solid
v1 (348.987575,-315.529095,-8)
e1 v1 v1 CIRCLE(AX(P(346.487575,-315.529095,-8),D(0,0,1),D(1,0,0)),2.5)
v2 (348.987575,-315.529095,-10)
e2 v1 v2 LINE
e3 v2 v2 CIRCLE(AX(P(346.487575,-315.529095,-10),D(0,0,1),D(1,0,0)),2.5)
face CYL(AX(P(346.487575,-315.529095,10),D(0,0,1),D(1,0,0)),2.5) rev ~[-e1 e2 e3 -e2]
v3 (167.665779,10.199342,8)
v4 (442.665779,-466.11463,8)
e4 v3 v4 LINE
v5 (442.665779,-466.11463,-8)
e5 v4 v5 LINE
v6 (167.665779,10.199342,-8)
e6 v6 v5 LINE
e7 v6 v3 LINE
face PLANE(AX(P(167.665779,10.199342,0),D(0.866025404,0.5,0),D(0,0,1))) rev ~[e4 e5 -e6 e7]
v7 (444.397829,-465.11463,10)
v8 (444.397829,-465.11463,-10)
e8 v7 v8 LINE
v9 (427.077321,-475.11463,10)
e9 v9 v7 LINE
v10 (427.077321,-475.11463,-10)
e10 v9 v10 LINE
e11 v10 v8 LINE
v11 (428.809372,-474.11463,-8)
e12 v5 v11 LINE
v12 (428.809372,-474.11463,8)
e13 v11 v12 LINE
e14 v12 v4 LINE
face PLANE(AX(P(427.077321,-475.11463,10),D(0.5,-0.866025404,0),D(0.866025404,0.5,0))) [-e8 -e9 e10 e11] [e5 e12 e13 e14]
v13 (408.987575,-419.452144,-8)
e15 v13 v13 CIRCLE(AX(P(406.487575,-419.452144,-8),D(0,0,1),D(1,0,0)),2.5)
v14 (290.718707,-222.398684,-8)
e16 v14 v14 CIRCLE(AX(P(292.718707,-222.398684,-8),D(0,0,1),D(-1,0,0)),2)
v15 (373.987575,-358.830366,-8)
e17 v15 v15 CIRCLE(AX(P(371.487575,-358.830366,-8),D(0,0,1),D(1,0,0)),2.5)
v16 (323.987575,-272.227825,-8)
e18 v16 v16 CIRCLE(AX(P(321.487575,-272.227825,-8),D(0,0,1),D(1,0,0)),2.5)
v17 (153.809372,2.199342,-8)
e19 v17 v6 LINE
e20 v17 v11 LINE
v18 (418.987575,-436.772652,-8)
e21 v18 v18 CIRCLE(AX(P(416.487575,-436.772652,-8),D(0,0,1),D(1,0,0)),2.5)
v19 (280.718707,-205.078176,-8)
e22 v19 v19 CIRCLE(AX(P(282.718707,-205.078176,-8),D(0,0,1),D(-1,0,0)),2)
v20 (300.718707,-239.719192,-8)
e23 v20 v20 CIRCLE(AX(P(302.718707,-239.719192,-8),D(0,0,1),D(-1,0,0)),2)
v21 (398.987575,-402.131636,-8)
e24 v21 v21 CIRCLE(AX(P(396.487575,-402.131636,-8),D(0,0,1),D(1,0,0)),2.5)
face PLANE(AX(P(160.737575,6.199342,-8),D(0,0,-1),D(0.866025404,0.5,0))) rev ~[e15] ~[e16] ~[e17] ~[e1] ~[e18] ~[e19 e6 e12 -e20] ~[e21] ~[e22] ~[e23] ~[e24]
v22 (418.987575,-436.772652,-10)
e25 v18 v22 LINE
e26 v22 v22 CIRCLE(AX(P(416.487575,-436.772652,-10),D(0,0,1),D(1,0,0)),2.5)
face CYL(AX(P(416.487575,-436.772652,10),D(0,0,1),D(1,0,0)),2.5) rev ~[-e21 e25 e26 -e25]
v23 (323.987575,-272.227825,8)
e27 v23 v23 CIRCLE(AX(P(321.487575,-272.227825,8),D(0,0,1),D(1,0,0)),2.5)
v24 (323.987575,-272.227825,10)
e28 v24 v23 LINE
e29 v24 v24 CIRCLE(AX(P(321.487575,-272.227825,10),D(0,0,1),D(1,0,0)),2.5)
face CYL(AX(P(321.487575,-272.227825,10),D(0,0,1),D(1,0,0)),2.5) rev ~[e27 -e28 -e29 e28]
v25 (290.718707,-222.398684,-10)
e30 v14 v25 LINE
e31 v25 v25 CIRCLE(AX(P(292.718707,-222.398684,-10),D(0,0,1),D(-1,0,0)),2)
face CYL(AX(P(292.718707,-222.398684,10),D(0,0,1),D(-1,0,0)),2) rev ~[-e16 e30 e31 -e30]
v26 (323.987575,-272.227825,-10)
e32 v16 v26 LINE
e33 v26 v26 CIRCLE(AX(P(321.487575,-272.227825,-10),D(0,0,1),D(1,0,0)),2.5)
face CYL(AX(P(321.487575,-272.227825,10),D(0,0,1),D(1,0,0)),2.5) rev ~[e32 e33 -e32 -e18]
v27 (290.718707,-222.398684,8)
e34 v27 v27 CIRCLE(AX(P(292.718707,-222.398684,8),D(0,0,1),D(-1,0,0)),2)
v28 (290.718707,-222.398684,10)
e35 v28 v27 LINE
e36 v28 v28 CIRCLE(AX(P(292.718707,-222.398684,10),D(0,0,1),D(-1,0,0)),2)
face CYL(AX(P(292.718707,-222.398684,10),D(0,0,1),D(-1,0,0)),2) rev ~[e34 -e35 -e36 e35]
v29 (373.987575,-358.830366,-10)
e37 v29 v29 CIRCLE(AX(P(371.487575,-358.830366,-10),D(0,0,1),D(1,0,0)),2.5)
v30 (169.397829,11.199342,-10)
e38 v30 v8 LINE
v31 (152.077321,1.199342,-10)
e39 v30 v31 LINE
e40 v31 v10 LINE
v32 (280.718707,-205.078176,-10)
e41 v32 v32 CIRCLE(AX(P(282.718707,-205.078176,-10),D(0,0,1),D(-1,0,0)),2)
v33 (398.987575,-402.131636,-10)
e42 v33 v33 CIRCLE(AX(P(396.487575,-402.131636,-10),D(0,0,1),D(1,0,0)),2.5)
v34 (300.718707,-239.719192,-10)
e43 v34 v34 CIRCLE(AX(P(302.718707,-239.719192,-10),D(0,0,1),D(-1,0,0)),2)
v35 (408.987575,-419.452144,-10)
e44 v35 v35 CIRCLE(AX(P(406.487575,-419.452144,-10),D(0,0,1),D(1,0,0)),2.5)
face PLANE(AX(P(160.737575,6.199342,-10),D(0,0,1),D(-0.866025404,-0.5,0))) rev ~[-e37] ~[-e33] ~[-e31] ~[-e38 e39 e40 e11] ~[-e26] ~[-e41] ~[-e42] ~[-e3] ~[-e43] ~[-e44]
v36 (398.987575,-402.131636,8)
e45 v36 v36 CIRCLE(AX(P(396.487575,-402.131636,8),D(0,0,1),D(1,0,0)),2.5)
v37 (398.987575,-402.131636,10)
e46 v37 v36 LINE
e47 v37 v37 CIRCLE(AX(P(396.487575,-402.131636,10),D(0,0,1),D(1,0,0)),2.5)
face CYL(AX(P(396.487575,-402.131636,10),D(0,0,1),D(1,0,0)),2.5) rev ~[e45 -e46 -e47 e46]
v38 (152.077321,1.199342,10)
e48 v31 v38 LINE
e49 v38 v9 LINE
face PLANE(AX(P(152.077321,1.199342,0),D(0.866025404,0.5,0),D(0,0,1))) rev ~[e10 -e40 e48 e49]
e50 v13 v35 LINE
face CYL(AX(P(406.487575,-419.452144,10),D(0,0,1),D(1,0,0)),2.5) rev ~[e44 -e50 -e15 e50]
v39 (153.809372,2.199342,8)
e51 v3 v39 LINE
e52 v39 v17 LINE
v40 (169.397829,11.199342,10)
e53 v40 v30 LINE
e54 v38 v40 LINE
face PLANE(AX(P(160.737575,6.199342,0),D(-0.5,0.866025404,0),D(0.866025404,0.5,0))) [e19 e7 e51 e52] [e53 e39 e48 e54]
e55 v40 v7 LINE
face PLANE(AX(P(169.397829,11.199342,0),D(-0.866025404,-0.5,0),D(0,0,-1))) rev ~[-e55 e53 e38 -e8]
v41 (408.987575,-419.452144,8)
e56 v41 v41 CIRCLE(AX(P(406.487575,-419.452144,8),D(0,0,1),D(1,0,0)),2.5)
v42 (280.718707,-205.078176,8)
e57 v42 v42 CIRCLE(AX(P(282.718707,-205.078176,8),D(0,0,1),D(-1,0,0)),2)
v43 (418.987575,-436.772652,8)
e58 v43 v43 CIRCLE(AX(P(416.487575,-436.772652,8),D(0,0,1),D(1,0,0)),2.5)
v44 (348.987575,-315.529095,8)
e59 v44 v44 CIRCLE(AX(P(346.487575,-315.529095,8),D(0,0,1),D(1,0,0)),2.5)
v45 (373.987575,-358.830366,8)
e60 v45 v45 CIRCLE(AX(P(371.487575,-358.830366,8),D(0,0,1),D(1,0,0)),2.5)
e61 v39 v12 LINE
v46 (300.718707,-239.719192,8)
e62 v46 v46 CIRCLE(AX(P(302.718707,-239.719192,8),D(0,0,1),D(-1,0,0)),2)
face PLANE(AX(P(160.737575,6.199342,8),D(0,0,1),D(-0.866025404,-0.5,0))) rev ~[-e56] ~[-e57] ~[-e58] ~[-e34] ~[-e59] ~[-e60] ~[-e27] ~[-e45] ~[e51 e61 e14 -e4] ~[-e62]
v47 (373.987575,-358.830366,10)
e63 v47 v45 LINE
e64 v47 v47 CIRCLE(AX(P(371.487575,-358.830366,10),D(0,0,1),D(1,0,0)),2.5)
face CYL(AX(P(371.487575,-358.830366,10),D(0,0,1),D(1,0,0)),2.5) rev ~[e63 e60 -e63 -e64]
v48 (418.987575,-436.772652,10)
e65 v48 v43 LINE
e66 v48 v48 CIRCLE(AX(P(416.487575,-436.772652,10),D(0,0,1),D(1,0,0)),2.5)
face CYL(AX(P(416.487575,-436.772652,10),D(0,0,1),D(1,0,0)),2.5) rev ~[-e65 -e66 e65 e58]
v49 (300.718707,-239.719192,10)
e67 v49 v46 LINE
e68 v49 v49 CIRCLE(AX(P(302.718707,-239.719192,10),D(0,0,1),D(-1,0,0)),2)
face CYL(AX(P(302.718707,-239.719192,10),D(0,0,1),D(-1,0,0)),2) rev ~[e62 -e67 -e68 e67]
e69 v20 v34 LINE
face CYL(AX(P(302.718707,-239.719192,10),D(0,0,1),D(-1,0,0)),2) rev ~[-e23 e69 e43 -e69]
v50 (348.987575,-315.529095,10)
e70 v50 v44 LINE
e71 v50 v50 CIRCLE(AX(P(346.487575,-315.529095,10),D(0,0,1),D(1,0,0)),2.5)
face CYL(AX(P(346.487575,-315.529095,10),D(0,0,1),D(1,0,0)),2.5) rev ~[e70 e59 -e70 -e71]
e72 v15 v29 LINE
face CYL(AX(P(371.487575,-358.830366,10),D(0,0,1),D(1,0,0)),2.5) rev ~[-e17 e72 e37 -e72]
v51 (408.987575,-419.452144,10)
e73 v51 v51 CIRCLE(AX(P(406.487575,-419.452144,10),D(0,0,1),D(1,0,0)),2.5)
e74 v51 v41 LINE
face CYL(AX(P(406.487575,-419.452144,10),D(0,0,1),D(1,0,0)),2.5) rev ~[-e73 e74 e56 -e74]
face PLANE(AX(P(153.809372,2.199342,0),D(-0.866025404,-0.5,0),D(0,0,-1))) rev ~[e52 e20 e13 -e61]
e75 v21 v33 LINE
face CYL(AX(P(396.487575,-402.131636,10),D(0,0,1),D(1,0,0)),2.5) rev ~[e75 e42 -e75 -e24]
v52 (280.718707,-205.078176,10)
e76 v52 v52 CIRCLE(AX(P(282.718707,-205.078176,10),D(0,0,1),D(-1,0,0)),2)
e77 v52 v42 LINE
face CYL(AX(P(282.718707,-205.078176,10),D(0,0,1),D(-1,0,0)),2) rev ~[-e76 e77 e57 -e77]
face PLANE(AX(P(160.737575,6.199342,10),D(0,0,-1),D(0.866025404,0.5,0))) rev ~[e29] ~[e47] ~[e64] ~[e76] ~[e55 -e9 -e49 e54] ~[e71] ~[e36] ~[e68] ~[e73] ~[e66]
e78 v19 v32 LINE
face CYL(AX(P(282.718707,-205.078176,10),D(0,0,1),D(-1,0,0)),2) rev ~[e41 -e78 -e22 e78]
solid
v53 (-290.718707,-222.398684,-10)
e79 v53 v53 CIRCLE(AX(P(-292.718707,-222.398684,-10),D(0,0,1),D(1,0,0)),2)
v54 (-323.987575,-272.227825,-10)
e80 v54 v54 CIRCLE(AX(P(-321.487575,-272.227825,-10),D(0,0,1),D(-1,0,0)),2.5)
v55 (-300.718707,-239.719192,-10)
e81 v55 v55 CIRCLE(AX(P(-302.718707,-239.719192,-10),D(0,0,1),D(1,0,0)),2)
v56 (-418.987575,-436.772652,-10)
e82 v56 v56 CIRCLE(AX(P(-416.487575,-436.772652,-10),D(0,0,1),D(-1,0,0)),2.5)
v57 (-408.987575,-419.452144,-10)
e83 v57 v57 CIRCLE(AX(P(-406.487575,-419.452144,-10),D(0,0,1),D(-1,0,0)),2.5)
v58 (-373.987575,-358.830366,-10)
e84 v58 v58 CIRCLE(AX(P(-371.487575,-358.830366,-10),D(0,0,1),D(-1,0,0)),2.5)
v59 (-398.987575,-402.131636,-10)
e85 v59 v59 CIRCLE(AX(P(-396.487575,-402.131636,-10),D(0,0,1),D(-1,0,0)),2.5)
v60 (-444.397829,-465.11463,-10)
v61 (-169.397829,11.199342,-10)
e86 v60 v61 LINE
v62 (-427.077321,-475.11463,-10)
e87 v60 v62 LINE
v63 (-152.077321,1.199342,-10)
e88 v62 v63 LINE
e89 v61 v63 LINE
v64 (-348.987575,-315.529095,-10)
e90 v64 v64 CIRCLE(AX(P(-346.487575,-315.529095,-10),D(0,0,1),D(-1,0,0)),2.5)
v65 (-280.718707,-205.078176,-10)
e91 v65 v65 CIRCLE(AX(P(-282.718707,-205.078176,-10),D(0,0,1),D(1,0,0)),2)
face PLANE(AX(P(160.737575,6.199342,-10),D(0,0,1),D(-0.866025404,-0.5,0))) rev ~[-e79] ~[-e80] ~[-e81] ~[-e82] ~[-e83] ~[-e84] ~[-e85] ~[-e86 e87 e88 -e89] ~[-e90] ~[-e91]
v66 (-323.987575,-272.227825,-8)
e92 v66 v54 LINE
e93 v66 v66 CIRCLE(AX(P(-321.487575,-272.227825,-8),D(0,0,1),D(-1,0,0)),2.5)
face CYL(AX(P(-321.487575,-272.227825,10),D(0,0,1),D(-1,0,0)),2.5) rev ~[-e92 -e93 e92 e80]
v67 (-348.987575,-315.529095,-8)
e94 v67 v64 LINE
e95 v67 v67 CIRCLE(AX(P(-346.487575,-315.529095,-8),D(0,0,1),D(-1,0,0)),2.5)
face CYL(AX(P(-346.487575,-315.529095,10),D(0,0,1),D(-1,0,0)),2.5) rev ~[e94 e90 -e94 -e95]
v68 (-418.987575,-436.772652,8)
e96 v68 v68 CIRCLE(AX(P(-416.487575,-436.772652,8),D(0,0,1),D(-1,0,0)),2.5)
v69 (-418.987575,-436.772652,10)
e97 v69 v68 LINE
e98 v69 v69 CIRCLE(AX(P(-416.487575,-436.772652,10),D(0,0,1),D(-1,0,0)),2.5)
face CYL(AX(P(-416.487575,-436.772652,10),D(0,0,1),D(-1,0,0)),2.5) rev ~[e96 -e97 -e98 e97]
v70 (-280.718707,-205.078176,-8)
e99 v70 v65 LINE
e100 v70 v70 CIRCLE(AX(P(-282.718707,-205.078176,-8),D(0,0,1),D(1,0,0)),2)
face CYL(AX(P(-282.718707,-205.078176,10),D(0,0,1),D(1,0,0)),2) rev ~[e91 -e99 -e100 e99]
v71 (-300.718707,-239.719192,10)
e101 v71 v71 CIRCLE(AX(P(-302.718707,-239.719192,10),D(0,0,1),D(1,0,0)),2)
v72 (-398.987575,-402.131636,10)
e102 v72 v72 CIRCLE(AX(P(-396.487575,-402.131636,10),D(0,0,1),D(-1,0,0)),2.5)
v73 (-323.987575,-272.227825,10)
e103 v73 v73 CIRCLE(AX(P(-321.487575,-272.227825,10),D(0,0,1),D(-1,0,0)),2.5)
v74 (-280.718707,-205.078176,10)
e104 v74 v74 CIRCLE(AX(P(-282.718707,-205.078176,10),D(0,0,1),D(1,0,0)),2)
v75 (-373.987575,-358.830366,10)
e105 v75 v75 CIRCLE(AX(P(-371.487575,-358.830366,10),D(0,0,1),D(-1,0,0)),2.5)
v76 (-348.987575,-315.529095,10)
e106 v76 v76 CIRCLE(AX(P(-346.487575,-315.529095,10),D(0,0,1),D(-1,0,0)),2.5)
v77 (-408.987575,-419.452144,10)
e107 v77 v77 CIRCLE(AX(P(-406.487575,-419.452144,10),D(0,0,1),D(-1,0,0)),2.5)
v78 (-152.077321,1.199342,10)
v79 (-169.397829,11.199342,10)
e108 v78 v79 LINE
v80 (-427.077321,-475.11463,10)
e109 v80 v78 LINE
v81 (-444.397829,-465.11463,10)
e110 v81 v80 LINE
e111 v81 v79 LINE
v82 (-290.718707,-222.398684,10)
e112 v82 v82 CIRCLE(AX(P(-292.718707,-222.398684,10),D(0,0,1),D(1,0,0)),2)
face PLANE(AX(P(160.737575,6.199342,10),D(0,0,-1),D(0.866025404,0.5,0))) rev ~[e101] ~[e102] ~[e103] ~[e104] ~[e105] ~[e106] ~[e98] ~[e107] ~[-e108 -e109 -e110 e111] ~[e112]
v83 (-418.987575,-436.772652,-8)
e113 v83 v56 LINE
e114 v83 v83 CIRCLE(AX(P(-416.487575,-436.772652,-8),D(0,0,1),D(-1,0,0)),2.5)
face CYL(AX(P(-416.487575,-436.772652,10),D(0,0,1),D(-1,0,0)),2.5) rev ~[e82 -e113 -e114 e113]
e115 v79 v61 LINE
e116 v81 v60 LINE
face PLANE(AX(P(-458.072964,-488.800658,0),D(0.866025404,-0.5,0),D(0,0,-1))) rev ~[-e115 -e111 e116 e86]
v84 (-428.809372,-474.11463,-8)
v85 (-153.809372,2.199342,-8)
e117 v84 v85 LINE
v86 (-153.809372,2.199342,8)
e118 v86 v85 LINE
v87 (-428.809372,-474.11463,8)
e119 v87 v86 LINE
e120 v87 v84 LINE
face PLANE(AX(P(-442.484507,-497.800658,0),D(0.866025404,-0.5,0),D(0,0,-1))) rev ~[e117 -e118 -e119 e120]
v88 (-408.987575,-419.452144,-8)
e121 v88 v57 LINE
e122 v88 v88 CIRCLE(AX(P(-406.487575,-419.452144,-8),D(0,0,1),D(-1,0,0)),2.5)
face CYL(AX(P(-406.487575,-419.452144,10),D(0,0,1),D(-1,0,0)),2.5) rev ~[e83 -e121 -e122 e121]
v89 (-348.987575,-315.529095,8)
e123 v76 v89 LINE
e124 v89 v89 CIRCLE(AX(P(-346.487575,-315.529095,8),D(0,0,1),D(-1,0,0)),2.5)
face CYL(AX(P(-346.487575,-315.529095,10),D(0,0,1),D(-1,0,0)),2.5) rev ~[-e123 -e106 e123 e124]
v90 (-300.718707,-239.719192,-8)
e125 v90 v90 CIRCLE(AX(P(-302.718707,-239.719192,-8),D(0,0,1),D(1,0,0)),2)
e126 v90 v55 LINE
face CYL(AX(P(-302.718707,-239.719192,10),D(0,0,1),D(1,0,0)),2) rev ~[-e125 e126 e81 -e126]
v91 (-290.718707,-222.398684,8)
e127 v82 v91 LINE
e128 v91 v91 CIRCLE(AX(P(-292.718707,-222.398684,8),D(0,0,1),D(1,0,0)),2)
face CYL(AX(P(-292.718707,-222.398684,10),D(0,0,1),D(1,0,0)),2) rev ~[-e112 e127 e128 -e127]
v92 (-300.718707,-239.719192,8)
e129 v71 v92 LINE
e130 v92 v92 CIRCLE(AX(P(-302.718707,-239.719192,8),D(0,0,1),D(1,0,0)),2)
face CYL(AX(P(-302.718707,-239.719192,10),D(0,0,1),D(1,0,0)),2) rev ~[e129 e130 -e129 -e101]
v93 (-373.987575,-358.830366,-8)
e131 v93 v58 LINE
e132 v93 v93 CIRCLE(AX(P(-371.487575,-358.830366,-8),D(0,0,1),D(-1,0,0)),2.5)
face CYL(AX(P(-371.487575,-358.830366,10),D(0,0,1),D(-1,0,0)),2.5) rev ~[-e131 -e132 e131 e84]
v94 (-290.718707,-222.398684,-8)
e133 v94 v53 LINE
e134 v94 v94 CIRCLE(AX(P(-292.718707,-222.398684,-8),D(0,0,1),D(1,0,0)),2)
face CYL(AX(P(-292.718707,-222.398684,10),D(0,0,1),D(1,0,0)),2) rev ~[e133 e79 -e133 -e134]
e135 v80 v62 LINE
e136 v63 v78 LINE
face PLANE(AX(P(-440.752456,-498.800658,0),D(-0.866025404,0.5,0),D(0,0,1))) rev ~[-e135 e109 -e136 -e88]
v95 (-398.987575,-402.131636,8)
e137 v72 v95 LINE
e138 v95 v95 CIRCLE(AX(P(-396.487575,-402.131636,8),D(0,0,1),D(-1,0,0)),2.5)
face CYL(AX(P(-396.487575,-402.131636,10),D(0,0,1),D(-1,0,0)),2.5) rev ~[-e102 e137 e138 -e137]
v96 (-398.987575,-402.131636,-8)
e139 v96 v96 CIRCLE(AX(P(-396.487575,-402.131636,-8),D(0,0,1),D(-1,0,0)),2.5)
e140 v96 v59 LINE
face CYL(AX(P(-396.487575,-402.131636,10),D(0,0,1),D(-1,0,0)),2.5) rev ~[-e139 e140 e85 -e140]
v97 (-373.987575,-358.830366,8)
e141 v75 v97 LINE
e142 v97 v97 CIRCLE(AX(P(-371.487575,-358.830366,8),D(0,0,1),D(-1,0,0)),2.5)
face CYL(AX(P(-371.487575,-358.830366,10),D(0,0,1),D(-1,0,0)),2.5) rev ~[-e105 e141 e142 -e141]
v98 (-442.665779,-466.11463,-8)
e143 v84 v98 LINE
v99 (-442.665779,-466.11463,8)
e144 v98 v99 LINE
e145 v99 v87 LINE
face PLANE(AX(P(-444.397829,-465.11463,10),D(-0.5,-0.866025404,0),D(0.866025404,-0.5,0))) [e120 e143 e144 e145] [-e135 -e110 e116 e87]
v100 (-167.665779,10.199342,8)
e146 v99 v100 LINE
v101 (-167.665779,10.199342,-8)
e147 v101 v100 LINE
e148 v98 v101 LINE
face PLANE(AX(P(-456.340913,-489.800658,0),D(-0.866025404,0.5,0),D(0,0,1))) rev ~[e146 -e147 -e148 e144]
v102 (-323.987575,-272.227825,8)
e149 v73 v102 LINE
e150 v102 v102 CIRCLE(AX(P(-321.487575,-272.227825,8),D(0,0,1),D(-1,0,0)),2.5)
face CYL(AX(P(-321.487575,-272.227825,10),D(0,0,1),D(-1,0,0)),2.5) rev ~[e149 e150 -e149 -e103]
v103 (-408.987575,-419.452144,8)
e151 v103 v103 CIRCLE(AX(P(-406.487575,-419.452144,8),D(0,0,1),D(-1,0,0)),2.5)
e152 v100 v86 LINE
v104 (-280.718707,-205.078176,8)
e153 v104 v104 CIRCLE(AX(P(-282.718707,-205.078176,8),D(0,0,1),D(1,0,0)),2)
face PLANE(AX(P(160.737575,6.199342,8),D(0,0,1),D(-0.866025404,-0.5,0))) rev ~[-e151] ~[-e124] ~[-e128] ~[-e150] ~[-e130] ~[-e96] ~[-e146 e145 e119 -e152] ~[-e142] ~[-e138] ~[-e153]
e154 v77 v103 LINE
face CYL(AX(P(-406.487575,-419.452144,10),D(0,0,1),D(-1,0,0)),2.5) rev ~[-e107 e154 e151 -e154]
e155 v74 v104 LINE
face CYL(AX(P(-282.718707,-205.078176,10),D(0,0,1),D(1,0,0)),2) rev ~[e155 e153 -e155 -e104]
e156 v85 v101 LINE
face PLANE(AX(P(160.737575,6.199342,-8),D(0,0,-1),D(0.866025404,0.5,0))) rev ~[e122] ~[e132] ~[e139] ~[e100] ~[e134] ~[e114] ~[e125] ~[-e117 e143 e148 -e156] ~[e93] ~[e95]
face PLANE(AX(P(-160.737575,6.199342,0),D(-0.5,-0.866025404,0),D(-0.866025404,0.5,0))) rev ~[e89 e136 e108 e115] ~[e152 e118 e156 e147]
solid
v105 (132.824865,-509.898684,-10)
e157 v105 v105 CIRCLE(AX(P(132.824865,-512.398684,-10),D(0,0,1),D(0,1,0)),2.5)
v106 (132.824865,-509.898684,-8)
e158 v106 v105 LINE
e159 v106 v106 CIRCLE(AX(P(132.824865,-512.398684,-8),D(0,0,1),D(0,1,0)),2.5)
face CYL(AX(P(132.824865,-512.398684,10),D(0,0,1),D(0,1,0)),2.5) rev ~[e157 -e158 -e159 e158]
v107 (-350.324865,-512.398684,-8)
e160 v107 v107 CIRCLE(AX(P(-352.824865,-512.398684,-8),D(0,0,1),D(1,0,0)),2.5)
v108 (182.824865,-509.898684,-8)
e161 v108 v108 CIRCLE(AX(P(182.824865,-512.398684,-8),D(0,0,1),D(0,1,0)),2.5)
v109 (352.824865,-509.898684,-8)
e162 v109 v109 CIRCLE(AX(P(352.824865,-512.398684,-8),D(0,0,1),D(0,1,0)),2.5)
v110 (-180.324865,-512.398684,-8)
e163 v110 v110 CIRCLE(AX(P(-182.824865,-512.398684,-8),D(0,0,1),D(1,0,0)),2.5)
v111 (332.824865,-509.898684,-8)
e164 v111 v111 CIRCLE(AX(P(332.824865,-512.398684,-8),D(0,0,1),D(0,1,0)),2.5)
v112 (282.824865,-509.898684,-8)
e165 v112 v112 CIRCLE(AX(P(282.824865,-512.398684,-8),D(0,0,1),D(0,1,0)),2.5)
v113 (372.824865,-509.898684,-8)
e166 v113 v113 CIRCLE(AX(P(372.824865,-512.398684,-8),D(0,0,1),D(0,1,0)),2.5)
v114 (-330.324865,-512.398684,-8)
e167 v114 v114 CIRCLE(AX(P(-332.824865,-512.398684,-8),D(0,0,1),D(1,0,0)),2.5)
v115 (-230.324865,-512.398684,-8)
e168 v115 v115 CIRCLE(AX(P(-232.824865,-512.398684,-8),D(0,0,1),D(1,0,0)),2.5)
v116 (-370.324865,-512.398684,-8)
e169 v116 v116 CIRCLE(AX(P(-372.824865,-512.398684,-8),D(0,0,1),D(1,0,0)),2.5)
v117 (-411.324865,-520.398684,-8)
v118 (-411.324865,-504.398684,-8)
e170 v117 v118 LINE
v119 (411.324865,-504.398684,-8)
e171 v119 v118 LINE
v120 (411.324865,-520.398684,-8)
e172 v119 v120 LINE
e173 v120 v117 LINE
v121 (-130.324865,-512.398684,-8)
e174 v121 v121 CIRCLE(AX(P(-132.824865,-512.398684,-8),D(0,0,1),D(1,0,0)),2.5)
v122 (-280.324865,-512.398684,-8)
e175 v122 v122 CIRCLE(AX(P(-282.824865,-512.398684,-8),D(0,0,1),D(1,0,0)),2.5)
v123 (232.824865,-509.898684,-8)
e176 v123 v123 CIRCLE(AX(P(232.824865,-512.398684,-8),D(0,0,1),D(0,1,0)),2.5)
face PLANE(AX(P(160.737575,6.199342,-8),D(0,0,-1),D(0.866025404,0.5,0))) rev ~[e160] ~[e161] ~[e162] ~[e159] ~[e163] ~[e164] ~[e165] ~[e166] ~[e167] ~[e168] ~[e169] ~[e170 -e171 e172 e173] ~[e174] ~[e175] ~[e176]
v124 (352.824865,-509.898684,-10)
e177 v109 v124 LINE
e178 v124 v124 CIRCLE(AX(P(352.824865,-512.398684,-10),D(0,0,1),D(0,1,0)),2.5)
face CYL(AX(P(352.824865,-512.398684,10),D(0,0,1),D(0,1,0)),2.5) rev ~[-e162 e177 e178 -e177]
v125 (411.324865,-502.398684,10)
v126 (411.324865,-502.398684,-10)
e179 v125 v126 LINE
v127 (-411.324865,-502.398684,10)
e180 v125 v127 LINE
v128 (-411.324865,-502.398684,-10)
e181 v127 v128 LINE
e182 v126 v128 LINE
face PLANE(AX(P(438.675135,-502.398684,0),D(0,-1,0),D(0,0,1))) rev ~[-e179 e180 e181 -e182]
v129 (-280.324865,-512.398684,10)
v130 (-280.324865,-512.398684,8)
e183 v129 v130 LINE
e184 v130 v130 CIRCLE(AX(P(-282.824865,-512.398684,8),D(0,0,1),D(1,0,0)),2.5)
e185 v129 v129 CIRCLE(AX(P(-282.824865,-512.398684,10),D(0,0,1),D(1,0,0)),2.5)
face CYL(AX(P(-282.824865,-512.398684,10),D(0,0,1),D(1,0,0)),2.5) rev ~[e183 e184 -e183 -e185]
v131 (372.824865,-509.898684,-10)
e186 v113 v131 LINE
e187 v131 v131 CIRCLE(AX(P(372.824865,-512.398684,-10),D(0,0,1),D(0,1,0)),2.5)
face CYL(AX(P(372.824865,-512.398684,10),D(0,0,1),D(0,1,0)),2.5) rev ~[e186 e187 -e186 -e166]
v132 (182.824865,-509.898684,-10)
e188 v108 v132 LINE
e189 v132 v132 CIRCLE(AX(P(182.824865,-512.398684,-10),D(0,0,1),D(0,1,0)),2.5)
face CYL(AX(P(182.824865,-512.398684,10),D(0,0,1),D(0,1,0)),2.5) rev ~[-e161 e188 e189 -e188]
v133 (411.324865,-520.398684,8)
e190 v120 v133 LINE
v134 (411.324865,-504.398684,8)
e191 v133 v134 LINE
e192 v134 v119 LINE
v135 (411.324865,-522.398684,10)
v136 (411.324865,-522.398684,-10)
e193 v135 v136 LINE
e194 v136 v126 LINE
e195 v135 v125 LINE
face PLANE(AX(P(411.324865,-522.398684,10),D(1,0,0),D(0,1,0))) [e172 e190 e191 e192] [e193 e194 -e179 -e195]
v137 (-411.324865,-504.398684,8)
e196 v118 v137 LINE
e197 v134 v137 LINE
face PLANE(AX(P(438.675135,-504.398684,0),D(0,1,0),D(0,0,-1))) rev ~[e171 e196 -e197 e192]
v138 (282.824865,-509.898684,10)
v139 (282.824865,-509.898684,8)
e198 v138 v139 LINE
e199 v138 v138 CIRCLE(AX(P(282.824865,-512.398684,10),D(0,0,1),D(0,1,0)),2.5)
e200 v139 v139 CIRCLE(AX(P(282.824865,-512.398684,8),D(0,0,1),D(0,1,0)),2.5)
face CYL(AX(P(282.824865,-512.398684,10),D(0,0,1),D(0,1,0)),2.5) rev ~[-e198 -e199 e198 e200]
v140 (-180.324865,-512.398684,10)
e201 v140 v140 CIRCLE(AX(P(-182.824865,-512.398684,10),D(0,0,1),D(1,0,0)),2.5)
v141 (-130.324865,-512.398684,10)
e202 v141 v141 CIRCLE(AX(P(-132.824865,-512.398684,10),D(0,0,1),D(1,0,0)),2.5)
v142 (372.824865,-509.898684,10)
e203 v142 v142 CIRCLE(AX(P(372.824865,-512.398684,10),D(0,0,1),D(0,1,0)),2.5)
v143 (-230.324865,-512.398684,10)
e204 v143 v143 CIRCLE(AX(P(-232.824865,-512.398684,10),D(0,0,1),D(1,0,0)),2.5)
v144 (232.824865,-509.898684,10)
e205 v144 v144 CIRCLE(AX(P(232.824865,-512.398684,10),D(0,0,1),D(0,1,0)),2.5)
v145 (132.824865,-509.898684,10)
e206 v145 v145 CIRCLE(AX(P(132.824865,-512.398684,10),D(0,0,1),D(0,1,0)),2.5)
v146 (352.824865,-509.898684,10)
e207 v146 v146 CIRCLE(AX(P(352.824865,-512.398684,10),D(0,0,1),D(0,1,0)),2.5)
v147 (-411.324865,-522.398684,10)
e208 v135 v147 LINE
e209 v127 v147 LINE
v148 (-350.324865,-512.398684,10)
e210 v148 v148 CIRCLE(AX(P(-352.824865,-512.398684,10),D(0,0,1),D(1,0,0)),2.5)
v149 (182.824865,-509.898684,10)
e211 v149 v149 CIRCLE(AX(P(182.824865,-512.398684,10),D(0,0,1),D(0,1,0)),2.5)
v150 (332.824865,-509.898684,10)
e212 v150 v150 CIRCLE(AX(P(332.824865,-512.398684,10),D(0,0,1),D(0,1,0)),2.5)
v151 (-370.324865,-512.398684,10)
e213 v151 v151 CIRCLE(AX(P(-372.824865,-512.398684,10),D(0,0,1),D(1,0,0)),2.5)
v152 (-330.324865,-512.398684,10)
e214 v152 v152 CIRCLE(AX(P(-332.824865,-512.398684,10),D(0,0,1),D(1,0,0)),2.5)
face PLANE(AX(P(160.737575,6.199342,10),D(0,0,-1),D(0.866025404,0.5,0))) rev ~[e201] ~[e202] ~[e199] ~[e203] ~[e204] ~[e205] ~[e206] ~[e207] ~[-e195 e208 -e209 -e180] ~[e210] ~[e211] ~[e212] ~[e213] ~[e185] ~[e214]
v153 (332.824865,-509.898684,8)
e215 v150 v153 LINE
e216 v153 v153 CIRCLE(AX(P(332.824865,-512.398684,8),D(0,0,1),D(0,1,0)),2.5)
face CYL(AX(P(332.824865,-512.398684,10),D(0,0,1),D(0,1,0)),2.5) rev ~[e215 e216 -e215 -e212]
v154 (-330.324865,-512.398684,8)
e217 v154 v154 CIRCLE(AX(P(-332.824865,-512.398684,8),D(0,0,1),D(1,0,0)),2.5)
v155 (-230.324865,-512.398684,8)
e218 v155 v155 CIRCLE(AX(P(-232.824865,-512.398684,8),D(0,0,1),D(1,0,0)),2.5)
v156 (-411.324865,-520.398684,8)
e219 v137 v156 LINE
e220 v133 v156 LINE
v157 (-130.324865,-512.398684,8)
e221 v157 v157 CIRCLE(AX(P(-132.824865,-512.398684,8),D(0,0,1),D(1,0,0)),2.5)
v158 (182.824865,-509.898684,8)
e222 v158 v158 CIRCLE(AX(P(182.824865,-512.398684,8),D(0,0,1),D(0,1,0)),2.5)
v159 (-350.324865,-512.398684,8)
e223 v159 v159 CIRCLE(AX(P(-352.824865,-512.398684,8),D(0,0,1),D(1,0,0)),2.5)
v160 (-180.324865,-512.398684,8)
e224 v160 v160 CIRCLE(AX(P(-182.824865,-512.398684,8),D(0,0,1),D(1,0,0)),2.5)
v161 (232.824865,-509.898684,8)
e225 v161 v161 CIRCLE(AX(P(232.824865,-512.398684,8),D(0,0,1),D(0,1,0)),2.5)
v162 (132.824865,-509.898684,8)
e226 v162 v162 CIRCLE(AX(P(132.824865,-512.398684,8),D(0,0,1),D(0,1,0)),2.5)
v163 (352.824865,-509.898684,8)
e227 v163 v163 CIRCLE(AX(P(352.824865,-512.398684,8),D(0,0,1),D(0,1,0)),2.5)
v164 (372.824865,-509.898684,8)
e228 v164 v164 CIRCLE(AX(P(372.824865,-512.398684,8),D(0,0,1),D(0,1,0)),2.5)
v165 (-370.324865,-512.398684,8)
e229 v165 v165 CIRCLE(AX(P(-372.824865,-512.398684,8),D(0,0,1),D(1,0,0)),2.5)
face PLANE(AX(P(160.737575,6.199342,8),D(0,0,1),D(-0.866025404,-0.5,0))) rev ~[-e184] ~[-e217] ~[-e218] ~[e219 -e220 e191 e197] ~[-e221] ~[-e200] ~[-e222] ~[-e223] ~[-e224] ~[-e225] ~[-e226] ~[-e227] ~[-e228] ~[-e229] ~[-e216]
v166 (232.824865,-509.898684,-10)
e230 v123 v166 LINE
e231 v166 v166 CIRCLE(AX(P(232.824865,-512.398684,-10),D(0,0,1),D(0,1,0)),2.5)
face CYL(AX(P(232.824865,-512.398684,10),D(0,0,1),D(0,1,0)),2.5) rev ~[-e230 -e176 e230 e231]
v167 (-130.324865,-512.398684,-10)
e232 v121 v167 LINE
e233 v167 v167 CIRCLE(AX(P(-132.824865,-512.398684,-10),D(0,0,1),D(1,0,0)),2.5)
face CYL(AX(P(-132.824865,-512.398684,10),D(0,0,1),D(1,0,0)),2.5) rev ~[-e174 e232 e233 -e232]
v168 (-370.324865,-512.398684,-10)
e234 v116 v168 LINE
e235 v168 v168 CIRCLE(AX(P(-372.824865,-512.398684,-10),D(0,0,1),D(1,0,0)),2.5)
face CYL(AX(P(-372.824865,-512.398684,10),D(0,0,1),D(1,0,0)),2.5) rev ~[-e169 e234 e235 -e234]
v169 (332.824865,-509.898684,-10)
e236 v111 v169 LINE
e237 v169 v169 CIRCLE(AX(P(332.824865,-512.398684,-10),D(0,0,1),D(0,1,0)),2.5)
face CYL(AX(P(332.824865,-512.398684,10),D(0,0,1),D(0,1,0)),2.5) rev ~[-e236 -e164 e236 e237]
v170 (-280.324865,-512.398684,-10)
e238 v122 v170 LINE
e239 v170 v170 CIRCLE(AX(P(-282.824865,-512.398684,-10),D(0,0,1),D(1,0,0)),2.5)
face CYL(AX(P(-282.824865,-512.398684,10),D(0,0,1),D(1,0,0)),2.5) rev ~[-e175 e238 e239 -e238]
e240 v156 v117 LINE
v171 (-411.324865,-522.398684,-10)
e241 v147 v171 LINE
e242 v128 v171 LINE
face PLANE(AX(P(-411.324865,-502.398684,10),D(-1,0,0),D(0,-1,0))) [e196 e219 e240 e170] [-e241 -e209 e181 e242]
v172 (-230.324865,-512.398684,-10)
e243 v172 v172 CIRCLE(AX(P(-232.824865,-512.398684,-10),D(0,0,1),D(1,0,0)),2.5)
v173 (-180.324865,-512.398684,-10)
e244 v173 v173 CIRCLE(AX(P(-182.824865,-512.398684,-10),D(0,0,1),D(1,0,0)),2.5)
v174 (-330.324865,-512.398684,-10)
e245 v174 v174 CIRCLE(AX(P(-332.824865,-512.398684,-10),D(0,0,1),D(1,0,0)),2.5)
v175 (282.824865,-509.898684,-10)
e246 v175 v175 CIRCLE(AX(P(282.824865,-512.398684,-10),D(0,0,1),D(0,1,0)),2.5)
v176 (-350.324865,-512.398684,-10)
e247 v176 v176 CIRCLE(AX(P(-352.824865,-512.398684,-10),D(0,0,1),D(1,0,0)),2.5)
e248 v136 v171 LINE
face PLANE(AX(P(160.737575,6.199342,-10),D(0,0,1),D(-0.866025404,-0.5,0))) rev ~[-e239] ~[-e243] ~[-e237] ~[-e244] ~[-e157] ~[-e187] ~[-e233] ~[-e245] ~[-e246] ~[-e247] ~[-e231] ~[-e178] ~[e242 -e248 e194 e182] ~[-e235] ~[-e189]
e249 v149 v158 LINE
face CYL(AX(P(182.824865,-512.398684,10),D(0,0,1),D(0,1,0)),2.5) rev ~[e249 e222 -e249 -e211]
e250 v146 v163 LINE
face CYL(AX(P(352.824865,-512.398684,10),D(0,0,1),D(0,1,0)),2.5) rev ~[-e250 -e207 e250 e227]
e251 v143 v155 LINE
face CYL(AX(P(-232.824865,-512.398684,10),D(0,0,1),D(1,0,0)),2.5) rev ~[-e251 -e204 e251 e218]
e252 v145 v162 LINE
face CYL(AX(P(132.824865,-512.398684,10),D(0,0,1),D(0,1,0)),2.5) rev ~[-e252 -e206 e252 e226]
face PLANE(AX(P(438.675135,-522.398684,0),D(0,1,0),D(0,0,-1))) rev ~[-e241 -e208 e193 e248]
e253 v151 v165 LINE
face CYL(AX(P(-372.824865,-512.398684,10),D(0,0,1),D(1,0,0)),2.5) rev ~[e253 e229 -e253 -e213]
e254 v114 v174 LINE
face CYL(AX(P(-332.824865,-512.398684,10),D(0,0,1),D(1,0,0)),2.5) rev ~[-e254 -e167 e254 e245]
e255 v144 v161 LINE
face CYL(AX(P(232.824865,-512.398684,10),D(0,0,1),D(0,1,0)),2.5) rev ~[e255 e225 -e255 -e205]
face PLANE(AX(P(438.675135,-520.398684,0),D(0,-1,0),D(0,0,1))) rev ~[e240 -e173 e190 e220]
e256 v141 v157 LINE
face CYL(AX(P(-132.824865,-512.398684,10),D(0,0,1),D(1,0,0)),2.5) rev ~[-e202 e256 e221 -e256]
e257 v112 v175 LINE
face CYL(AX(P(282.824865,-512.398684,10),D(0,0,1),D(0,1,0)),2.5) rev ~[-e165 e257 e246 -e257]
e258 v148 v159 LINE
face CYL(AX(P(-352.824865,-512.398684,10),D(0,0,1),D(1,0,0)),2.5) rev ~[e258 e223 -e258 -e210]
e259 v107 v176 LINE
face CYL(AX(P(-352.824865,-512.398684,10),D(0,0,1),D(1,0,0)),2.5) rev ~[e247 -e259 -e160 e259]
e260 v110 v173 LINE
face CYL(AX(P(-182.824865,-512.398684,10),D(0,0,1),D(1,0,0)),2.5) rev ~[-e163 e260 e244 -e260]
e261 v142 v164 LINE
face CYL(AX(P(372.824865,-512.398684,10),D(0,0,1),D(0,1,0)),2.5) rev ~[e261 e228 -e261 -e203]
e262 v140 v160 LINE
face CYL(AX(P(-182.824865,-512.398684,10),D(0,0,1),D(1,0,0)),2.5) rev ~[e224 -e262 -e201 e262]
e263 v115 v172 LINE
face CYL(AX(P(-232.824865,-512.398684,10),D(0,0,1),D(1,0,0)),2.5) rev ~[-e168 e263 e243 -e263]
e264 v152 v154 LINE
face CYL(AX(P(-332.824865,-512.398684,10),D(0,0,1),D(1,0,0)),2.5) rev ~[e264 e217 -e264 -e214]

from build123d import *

# Parameters (mm, degrees)
SKETCH_3_W          = 20
SKETCH_3_H          = 20
SKETCH_3_W_2        = 16
SKETCH_3_H_2        = 16
SKETCH_4_R          = 2
CUT_EXTRUDE_1_DEPTH = 709.01041227
SKETCH_5_R          = 2.5
CUT_EXTRUDE_2_DEPTH = 687.141250789


with BuildPart() as part:
    # 扫描1: sweep along a path in 草图2
    with BuildLine(Plane.XY) as sweep_1_path:
        Line((150, 0), (438.675134595, -500))
        Line((438.675134595, -500), (-438.675134595, -500))
        Line((-438.675134595, -500), (-150, 0))
    # 草图3 → 扫描1 (sweep)
    with BuildSketch(Plane(origin=(37.5, -64.951905284, 0), x_dir=(-0.8660254037844362, -0.5000000000000044, 0), z_dir=(-0.5000000000000044, 0.8660254037844362, 0))):
        with Locations((-142.302494708, 0)):
            Rectangle(SKETCH_3_W, SKETCH_3_H)
        with Locations((-142.302494708, 0)):
            Rectangle(SKETCH_3_W_2, SKETCH_3_H_2, mode=Mode.SUBTRACT)
    sweep(path=sweep_1_path.line, transition=Transition.RIGHT)

    # 草图4 → 切除-拉伸1 (cut, through all)
    with BuildSketch(Plane.XY.offset(10)):
        with Locations((-302.718707407, -239.719192216)):
            Circle(SKETCH_4_R)
        with Locations((-292.718707407, -222.39868414)):
            Circle(SKETCH_4_R)
        with Locations((-282.718707407, -205.078176064)):
            Circle(SKETCH_4_R)
        with Locations(Location((282.718707407, -205.078176064, 0), (0, 0, 180))):
            Circle(SKETCH_4_R)
        with Locations(Location((292.718707407, -222.39868414, 0), (0, 0, 180))):
            Circle(SKETCH_4_R)
        with Locations(Location((302.718707407, -239.719192216, 0), (0, 0, 180))):
            Circle(SKETCH_4_R)
        Polygon((-444.397829477, -465.114630011), (-427.077321401, -475.114630011), (-442.829777396, -502.39868414), (-411.324865405, -502.39868414), (-411.324865405, -522.39868414), (-477.470793548, -522.39868414), align=None)
        Polygon((411.324865405, -502.39868414), (442.829777396, -502.39868414), (427.077321401, -475.114630011), (444.397829477, -465.114630011), (477.470793548, -522.39868414), (411.324865405, -522.39868414), align=None)
    extrude(amount=-CUT_EXTRUDE_1_DEPTH, mode=Mode.SUBTRACT)


with BuildPart() as cut_extrude_1_piece_1:
    # of the separate pieces the step leaves, piece 1, a body of its own (cut_extrude_1_pieces)
    add(part.part.solids().sort_by_distance((411.324865405, -502.39868414, 10))[0])


with BuildPart() as cut_extrude_1_piece_2:
    # of the separate pieces the step leaves, piece 2, a body of its own (cut_extrude_1_pieces)
    add(part.part.solids().sort_by_distance((-427.077321401, -475.114630011, 10))[0])


with BuildPart() as cut_extrude_1_piece_3:
    # of the separate pieces the step leaves, piece 3, a body of its own (cut_extrude_1_pieces)
    add(part.part.solids().sort_by_distance((152.077321401, 1.19934207, 10))[0])


with BuildPart() as cut_extrude_2_tool:
    # 草图5 → 切除-拉伸2 (new, through all)
    with BuildSketch(Plane.XY.offset(10)):
        with Locations((-372.824865405, -512.39868414)):
            Circle(SKETCH_5_R)
        with Locations((-352.824865405, -512.39868414)):
            Circle(SKETCH_5_R)
        with Locations((-332.824865405, -512.39868414)):
            Circle(SKETCH_5_R)
        with Locations((-282.824865405, -512.39868414)):
            Circle(SKETCH_5_R)
        with Locations((-232.824865405, -512.39868414)):
            Circle(SKETCH_5_R)
        with Locations((-182.824865405, -512.39868414)):
            Circle(SKETCH_5_R)
        with Locations((-132.824865405, -512.39868414)):
            Circle(SKETCH_5_R)
        with Locations(Location((-321.487575439, -272.227825247, 0), (0, 0, 180))):
            Circle(SKETCH_5_R)
        with Locations(Location((-346.487575439, -315.529095436, 0), (0, 0, 180))):
            Circle(SKETCH_5_R)
        with Locations(Location((-371.487575439, -358.830365625, 0), (0, 0, 180))):
            Circle(SKETCH_5_R)
        with Locations(Location((-396.487575439, -402.131635814, 0), (0, 0, 180))):
            Circle(SKETCH_5_R)
        with Locations(Location((-406.487575439, -419.45214389, 0), (0, 0, 180))):
            Circle(SKETCH_5_R)
        with Locations(Location((-416.487575439, -436.772651966, 0), (0, 0, 180))):
            Circle(SKETCH_5_R)
        with Locations(Location((232.824865405, -512.39868414, 0), (0, 0, 90))):
            Circle(SKETCH_5_R)
        with Locations(Location((282.824865405, -512.39868414, 0), (0, 0, 90))):
            Circle(SKETCH_5_R)
        with Locations(Location((332.824865405, -512.39868414, 0), (0, 0, 90))):
            Circle(SKETCH_5_R)
        with Locations(Location((352.824865405, -512.39868414, 0), (0, 0, 90))):
            Circle(SKETCH_5_R)
        with Locations(Location((372.824865405, -512.39868414, 0), (0, 0, 90))):
            Circle(SKETCH_5_R)
        with Locations(Location((132.824865405, -512.39868414, 0), (0, 0, 90))):
            Circle(SKETCH_5_R)
        with Locations(Location((182.824865405, -512.39868414, 0), (0, 0, 90))):
            Circle(SKETCH_5_R)
        with Locations((396.487575439, -402.131635814)):
            Circle(SKETCH_5_R)
        with Locations((371.487575439, -358.830365625)):
            Circle(SKETCH_5_R)
        with Locations((346.487575439, -315.529095436)):
            Circle(SKETCH_5_R)
        with Locations((321.487575439, -272.227825247)):
            Circle(SKETCH_5_R)
        with Locations((416.487575439, -436.772651966)):
            Circle(SKETCH_5_R)
        with Locations((406.487575439, -419.45214389)):
            Circle(SKETCH_5_R)
    extrude(amount=-CUT_EXTRUDE_2_DEPTH)


with BuildPart() as cut_extrude_1_piece_1_1:
    add(cut_extrude_1_piece_1.part)

    # 切除-拉伸2: cut by cut_extrude_2_tool
    add(cut_extrude_2_tool.part, mode=Mode.SUBTRACT)


with BuildPart() as cut_extrude_1_piece_2_1:
    add(cut_extrude_1_piece_2.part)

    # 切除-拉伸2: cut by cut_extrude_2_tool
    add(cut_extrude_2_tool.part, mode=Mode.SUBTRACT)


with BuildPart() as cut_extrude_1_piece_3_1:
    add(cut_extrude_1_piece_3.part)

    # 切除-拉伸2: cut by cut_extrude_2_tool
    add(cut_extrude_2_tool.part, mode=Mode.SUBTRACT)


solid = Compound([cut_extrude_1_piece_1_1.part, cut_extrude_1_piece_2_1.part, cut_extrude_1_piece_3_1.part])
